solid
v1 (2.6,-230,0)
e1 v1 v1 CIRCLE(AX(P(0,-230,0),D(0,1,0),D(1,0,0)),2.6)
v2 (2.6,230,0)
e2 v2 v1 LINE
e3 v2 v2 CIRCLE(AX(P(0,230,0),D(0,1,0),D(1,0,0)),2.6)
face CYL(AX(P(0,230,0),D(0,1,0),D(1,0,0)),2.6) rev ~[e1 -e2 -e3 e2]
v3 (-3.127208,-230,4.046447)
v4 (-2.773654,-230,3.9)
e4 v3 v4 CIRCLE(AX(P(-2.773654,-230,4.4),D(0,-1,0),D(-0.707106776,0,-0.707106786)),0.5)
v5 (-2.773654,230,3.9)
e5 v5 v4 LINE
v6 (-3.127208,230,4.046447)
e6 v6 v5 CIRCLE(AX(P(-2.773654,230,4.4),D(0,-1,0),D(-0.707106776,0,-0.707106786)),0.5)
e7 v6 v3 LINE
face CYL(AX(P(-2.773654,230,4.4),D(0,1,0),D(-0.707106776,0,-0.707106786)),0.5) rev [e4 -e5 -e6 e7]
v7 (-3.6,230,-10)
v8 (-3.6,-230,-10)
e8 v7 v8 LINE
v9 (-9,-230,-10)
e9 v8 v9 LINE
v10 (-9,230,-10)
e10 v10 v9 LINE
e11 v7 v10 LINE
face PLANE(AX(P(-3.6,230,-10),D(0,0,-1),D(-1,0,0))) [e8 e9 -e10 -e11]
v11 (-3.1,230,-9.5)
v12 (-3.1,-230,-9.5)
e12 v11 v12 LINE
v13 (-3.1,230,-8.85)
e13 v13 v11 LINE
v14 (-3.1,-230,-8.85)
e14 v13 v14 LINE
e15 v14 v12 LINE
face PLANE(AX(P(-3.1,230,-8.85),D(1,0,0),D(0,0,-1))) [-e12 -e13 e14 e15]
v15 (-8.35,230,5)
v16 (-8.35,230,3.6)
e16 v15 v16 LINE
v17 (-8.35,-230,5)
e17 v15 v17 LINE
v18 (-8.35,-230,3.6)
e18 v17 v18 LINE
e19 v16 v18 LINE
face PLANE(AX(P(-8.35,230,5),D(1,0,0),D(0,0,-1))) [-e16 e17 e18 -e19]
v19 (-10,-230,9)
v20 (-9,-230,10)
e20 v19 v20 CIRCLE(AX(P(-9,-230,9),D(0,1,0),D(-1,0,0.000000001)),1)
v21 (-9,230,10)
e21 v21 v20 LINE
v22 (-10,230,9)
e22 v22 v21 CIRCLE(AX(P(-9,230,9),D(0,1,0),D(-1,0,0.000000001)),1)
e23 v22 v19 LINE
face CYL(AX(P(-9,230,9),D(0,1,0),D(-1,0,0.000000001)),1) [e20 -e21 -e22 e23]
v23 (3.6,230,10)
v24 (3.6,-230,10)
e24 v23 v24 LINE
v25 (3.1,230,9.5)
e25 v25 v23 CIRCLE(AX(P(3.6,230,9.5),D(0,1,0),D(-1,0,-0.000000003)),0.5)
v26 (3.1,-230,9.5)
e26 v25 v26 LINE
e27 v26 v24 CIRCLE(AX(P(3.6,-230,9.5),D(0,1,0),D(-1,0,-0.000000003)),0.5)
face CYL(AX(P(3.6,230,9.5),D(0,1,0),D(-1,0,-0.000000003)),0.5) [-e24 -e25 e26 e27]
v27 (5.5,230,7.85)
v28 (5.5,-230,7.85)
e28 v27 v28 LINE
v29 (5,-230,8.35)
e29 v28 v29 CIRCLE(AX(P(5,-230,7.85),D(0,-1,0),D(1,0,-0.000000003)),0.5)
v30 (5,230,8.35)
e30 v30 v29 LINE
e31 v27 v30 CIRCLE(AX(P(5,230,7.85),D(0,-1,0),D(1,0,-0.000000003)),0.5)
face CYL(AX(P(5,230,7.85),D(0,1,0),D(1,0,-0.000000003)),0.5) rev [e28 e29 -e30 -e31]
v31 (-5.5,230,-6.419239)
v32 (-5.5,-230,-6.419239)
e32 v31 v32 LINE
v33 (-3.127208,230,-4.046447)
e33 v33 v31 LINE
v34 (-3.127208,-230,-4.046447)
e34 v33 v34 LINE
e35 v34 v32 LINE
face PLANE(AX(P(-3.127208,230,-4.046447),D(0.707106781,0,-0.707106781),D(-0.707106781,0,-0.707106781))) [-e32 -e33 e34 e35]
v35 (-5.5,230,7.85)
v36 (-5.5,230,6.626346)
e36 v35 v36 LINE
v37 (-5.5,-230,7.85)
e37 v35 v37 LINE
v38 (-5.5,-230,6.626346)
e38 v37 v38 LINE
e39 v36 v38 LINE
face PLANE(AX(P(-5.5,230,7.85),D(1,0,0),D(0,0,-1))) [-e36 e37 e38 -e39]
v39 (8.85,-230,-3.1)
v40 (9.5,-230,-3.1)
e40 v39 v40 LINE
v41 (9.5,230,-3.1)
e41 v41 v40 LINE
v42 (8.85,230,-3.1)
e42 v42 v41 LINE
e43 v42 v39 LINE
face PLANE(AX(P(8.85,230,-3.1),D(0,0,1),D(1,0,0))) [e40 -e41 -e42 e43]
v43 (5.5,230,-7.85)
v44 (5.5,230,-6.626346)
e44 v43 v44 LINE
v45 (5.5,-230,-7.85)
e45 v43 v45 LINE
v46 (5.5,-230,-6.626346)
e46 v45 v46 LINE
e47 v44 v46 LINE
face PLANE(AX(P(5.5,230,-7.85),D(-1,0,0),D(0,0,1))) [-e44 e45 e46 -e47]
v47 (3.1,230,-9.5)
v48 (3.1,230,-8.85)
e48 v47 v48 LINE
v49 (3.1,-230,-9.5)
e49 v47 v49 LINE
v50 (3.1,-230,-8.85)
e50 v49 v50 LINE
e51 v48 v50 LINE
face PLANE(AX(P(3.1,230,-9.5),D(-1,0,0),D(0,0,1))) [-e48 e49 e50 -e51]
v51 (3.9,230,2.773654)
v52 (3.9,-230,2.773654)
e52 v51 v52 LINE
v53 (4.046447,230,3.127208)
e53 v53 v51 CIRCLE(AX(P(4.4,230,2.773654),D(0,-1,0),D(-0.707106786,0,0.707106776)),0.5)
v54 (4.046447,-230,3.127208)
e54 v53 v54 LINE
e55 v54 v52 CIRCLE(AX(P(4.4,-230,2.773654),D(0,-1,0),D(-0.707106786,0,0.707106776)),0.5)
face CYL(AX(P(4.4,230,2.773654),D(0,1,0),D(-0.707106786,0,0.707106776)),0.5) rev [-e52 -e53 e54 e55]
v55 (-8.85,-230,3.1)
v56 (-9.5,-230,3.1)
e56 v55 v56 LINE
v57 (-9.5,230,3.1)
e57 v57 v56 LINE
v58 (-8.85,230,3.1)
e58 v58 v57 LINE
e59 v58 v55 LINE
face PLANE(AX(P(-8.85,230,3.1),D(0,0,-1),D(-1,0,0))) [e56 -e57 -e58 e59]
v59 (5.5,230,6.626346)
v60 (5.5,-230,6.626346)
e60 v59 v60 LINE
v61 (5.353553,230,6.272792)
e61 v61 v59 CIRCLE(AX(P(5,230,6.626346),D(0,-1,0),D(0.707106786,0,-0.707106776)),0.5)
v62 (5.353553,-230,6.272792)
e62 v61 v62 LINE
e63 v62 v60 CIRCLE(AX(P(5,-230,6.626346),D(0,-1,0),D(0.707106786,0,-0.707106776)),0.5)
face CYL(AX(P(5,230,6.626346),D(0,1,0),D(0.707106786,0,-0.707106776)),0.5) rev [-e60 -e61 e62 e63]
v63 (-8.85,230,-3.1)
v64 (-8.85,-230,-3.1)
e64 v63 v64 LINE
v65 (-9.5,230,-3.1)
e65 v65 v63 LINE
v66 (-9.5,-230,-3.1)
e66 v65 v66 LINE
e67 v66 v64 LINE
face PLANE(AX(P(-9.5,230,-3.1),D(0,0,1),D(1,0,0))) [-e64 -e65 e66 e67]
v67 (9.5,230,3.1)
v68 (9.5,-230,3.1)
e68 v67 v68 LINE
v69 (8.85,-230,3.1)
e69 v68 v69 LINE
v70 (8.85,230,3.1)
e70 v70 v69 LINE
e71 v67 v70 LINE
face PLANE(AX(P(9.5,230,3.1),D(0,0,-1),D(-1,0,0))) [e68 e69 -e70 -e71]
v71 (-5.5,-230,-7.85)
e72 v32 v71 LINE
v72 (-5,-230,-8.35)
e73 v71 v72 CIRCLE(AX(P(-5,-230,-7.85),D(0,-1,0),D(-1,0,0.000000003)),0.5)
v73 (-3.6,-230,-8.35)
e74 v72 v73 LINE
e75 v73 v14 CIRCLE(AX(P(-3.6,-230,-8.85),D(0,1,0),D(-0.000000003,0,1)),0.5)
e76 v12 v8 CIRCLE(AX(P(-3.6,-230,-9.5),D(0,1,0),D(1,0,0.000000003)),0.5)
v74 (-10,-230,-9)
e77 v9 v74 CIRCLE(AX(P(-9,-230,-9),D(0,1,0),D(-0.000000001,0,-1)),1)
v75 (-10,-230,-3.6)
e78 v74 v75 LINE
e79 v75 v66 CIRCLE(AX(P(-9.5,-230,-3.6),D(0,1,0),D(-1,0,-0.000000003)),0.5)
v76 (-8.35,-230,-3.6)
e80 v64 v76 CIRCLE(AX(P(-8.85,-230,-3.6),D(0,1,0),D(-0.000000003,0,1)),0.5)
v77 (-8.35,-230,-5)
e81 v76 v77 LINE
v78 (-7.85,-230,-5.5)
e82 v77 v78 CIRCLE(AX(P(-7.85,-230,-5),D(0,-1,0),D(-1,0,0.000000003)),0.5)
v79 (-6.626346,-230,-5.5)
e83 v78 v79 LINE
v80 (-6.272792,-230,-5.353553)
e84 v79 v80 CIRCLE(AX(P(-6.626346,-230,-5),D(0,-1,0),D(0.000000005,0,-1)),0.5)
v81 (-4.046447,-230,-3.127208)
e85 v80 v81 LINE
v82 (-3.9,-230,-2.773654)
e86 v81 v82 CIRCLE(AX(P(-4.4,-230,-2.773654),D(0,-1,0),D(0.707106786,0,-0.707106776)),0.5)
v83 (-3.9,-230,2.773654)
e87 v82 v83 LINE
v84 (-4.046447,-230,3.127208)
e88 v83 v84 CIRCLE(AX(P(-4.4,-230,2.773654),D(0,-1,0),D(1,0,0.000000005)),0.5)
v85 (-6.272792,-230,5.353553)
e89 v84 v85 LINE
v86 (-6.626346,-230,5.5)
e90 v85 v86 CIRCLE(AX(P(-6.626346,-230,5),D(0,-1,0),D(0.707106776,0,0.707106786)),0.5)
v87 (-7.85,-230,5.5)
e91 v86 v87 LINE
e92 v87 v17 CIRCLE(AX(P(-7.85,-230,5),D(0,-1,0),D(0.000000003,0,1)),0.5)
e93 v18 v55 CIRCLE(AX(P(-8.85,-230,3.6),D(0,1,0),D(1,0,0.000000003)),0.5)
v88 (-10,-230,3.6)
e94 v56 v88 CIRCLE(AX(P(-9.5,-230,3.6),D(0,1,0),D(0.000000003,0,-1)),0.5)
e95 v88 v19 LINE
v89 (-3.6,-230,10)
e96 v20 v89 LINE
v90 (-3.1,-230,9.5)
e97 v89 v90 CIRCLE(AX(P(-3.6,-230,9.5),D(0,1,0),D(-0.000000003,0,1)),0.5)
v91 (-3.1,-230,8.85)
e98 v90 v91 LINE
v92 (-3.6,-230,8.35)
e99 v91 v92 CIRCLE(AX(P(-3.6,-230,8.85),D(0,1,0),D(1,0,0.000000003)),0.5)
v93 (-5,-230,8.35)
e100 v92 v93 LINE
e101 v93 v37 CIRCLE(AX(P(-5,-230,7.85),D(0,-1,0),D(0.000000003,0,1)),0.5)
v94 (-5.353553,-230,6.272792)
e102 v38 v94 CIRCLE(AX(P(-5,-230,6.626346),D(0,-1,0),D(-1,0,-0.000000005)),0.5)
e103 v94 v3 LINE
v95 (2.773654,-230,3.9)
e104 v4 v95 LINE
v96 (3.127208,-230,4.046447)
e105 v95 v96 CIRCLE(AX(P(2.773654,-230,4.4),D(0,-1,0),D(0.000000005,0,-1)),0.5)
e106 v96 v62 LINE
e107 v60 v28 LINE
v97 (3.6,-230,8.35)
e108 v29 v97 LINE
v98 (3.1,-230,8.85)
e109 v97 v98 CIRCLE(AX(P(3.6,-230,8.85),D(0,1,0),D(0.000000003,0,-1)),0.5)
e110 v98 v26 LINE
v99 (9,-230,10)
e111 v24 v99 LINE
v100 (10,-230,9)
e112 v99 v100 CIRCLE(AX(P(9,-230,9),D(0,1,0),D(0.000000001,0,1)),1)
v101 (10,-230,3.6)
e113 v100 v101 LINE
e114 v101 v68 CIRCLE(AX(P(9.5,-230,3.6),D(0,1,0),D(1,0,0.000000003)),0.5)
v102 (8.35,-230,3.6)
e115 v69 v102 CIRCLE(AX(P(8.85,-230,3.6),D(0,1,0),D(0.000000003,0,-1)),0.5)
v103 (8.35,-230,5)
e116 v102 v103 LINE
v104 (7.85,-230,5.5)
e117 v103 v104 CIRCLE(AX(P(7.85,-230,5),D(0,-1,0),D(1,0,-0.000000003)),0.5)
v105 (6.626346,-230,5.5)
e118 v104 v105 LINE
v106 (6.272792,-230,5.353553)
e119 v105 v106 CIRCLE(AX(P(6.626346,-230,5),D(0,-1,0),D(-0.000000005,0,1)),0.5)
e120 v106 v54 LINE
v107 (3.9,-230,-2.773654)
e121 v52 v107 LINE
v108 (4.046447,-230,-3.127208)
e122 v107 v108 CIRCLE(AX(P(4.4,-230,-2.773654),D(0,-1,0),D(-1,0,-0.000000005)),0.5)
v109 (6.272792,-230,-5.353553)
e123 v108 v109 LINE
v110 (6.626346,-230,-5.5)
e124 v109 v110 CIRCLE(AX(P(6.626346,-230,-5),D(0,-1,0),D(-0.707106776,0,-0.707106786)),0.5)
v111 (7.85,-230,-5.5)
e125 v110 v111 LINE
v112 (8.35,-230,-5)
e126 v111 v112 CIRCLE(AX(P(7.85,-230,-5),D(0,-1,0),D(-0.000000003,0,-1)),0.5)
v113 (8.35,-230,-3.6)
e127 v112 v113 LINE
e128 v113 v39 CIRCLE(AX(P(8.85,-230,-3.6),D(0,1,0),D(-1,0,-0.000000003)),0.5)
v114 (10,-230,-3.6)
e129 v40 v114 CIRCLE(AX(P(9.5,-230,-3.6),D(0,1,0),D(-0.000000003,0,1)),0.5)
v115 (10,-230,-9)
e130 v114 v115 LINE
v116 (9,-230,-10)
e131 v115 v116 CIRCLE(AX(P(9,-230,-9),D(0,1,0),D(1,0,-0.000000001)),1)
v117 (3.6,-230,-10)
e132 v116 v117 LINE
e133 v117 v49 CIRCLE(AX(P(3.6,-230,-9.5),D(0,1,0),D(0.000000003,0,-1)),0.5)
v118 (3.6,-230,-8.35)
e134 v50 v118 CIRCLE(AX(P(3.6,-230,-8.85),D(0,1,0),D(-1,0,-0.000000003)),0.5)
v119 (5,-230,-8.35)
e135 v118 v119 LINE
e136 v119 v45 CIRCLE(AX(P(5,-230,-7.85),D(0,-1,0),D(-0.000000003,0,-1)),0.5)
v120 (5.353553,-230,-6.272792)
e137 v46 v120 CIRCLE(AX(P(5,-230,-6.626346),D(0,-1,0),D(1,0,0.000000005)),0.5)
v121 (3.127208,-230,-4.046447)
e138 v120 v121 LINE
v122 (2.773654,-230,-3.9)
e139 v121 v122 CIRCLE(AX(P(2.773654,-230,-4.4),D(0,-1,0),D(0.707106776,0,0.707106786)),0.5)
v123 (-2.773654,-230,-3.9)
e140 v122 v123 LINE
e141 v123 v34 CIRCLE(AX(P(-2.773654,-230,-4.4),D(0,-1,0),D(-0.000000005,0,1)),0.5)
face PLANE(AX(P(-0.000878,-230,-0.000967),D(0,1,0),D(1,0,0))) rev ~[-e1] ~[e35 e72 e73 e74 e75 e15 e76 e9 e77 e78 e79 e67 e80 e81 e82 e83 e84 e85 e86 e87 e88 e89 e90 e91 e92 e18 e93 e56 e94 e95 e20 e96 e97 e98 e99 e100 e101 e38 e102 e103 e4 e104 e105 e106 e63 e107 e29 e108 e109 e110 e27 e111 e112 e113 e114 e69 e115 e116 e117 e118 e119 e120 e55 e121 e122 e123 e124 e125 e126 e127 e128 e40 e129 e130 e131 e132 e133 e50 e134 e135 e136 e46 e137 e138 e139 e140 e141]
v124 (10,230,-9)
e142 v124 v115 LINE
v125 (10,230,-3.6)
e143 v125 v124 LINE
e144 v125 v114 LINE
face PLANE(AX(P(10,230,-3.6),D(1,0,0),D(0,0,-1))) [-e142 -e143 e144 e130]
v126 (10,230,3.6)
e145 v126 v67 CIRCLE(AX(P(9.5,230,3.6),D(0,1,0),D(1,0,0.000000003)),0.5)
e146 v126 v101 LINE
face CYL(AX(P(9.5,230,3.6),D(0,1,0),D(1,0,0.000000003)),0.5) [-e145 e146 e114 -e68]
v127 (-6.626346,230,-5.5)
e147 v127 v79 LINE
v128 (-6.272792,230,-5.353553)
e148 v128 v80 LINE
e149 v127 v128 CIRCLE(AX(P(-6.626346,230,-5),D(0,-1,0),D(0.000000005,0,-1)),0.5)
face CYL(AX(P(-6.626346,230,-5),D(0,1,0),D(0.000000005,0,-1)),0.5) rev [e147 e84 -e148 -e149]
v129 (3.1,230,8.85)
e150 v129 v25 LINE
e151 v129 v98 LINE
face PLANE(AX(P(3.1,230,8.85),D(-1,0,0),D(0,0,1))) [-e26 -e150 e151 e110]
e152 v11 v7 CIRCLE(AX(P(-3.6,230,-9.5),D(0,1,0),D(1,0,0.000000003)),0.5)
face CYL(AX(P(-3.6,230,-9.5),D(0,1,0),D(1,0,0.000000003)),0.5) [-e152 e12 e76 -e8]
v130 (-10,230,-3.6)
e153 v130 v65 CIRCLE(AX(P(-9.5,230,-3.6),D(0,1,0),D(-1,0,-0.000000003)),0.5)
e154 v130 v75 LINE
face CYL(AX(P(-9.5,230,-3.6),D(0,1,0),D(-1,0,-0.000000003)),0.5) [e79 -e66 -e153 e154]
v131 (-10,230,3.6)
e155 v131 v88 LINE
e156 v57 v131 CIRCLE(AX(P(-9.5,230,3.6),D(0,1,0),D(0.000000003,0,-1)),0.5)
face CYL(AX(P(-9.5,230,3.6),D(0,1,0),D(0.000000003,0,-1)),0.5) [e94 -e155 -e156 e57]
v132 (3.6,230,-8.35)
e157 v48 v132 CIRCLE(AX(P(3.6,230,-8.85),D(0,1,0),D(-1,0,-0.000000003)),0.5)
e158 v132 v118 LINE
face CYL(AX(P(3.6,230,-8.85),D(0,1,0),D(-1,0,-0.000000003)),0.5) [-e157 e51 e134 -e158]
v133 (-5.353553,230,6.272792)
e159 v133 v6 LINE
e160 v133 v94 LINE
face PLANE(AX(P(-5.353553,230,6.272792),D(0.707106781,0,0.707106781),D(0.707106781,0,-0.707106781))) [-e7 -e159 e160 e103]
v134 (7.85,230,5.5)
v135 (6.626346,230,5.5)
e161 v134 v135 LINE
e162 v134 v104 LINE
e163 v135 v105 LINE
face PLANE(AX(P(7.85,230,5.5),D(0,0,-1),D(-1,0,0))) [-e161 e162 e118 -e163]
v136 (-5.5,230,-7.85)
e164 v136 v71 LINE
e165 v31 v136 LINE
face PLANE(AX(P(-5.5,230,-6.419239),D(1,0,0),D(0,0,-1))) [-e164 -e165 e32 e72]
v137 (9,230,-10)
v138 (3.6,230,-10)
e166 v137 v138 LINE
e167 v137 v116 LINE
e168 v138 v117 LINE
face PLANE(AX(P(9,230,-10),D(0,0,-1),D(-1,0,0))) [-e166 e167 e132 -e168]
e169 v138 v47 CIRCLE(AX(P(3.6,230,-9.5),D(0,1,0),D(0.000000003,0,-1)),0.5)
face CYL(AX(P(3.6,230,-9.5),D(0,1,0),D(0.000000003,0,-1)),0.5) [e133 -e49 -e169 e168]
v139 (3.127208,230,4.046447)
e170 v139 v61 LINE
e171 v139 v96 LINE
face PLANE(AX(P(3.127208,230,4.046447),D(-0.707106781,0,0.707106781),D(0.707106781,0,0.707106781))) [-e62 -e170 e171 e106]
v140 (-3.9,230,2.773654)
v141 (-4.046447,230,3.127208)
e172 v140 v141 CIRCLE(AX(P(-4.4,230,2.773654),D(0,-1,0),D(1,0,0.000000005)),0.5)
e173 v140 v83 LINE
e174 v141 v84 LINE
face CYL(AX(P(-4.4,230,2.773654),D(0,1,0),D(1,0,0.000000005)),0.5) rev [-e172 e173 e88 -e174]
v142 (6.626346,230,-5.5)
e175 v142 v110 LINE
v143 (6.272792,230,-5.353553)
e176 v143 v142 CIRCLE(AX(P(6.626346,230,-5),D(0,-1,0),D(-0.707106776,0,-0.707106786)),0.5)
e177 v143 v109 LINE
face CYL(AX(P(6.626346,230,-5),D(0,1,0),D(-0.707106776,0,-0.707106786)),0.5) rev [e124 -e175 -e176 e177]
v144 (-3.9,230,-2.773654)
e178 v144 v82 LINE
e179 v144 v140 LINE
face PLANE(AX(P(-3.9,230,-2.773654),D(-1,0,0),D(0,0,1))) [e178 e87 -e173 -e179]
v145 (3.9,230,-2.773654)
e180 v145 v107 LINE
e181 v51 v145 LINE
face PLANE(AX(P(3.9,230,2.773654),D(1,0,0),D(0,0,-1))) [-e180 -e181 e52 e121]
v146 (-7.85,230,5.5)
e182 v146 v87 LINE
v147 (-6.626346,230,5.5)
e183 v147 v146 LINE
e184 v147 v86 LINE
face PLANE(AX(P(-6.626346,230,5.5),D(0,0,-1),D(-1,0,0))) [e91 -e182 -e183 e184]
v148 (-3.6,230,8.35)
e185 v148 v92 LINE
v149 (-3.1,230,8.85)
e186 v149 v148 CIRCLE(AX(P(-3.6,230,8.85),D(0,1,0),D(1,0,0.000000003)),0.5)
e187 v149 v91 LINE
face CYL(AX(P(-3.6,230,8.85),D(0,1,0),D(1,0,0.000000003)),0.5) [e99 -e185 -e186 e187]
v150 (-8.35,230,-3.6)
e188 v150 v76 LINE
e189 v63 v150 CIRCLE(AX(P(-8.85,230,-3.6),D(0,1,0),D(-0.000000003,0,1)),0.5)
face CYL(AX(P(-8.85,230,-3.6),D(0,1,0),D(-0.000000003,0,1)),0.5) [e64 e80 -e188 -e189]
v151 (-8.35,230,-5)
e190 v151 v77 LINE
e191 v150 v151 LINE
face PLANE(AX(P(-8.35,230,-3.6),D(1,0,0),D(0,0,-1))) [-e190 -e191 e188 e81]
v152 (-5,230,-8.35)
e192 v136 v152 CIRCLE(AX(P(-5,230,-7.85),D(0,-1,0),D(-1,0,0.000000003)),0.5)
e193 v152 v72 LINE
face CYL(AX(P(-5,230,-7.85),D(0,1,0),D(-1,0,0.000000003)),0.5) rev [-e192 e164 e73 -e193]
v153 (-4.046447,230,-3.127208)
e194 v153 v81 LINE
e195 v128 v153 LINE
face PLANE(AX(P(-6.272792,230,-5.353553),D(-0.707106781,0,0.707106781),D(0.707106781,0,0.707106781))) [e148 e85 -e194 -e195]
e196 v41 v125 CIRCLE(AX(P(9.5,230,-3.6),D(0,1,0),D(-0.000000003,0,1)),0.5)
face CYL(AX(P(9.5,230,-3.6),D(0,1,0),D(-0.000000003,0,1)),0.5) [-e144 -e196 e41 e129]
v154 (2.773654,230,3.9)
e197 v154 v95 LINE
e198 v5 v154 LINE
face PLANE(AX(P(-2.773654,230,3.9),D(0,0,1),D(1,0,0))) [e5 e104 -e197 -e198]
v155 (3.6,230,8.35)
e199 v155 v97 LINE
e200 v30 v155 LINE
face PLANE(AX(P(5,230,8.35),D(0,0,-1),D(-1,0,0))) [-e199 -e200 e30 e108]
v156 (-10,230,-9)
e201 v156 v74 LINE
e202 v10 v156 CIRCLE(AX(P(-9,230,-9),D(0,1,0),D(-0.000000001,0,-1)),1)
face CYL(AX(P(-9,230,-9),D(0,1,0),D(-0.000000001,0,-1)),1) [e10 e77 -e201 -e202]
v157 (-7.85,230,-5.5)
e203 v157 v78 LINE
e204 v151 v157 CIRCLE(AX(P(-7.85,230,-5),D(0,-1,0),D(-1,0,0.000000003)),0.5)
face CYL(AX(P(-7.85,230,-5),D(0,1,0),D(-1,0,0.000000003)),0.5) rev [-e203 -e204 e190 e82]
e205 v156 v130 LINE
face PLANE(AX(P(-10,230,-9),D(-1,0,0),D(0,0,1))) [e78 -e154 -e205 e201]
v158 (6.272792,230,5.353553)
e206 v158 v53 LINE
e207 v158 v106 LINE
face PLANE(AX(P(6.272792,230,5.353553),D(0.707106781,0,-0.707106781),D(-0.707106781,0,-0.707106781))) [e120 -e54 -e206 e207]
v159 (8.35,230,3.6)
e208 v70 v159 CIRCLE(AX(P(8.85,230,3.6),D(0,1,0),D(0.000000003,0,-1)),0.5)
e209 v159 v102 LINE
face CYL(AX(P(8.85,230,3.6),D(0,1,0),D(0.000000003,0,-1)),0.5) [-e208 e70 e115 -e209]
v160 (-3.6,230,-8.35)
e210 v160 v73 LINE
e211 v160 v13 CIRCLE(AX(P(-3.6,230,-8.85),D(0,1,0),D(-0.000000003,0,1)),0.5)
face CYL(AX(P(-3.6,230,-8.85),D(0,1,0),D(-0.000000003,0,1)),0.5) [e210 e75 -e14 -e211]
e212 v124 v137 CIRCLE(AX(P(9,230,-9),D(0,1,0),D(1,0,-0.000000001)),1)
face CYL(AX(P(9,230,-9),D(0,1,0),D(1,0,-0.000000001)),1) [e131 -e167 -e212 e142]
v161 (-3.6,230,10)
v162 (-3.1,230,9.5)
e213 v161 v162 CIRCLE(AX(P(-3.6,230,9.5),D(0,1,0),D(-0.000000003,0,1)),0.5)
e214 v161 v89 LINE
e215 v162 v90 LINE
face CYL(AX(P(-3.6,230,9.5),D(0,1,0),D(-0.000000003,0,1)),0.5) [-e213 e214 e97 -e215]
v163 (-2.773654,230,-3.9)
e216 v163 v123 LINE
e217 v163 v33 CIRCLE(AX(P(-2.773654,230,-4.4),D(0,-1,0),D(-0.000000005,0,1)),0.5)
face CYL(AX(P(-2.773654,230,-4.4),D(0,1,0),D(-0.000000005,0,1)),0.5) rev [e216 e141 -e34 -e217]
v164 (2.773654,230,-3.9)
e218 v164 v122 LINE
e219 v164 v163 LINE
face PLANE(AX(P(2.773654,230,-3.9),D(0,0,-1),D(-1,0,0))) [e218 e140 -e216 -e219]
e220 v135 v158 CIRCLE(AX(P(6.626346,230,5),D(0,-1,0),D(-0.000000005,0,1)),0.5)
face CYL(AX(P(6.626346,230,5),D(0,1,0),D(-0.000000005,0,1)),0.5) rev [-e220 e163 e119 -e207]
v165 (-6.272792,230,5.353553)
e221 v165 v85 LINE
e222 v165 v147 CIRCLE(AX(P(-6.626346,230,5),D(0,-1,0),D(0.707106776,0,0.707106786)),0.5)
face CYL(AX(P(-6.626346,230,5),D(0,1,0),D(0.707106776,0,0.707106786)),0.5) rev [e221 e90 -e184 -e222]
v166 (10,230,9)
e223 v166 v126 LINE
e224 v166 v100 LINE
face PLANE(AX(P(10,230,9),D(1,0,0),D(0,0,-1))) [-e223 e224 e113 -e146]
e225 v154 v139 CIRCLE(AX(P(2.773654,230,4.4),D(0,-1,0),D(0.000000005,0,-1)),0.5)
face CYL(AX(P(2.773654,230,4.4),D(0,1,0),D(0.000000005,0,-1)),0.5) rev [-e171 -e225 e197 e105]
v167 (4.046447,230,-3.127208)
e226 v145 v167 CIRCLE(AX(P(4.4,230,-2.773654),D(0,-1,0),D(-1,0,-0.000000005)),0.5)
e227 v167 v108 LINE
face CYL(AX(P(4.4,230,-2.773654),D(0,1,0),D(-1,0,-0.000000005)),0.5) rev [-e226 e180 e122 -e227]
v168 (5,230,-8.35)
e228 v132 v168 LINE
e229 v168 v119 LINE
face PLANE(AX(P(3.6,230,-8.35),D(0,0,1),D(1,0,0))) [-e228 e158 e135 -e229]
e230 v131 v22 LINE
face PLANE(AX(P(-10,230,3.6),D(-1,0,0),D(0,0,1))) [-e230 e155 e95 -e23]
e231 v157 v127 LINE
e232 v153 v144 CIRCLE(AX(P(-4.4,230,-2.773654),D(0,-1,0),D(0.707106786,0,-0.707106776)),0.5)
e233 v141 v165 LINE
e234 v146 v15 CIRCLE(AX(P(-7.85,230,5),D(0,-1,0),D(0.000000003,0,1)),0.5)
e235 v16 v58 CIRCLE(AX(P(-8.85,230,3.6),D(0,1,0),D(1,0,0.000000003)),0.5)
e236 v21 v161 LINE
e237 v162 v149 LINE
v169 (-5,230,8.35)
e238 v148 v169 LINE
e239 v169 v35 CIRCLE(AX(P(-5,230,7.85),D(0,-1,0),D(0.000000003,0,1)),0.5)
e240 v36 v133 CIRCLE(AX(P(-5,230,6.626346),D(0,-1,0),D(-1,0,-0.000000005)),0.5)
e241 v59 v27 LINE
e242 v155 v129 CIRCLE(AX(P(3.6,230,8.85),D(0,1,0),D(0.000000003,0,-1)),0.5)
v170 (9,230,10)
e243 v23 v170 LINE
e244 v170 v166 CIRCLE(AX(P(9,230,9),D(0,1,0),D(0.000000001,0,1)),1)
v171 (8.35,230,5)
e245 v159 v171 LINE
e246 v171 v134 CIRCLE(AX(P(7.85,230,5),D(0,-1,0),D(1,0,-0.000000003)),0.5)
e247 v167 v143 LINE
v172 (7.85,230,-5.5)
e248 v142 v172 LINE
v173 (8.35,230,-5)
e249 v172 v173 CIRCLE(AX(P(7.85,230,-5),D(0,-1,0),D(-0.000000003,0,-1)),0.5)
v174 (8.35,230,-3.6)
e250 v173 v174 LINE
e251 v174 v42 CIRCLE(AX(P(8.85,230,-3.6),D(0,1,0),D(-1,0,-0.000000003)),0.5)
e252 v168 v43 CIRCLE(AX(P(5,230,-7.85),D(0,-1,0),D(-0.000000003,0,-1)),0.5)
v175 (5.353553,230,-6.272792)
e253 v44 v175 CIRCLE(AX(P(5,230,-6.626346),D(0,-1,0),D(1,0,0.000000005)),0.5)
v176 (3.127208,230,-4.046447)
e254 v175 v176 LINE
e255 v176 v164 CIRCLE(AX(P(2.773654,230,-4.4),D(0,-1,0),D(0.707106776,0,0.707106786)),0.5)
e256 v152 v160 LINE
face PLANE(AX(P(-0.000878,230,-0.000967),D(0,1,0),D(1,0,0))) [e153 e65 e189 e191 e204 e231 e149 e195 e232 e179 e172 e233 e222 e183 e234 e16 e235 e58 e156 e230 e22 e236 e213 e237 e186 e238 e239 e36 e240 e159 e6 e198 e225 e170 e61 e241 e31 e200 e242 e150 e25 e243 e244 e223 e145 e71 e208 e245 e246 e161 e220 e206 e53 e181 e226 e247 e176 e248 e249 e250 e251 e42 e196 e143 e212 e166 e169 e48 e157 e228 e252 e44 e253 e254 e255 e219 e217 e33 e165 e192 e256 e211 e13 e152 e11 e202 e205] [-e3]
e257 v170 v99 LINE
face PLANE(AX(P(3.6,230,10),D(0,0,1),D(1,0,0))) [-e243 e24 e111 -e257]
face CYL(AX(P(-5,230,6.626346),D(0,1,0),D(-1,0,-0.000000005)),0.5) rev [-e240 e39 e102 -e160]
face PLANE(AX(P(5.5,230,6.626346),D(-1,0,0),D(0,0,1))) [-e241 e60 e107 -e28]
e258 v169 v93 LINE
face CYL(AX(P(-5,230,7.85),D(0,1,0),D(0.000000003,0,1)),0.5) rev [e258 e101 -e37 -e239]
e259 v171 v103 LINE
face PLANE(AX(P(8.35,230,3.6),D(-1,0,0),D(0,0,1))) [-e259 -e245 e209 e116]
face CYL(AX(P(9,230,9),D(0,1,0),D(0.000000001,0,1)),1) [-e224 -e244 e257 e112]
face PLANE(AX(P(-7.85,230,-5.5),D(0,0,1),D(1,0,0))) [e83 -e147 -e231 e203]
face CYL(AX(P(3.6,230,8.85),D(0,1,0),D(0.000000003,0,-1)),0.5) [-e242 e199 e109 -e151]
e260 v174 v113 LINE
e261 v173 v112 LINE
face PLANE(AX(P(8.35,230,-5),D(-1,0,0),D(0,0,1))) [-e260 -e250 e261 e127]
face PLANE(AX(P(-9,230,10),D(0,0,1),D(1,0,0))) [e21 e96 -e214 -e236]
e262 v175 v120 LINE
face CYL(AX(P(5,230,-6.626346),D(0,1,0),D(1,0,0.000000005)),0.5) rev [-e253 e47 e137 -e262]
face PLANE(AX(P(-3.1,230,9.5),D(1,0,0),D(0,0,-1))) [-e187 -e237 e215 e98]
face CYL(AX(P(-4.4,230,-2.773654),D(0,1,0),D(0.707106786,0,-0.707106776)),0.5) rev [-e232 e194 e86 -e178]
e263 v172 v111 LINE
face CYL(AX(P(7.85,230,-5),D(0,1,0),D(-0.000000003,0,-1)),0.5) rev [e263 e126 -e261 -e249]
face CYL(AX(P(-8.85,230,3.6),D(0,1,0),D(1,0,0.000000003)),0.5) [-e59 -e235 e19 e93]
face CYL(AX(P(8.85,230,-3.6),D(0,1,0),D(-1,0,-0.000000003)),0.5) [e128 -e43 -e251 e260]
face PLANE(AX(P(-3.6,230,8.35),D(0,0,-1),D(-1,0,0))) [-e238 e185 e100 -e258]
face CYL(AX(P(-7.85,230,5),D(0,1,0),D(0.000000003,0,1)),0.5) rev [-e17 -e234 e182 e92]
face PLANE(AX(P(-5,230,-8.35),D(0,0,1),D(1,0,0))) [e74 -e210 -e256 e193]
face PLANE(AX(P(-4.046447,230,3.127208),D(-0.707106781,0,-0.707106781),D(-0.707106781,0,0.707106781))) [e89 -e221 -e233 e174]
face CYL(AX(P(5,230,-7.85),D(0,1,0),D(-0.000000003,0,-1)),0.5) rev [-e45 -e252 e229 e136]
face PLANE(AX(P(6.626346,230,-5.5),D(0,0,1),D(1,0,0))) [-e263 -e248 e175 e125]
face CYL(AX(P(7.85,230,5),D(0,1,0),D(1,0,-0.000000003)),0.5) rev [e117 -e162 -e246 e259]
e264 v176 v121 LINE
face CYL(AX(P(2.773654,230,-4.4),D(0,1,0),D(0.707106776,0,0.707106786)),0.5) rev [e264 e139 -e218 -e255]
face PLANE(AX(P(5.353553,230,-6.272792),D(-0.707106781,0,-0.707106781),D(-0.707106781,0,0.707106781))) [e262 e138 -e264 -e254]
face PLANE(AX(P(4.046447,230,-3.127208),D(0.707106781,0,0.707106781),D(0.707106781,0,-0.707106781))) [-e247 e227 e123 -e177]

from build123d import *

# Parameters (mm, degrees)
SKETCH1_R           = 2.6
BOSS_EXTRUDE1_DEPTH = 460


with BuildPart() as part:
    # Sketch1 → Boss-Extrude1 (new body)
    with BuildSketch(Plane(origin=(0, 230, 0), x_dir=(1, 0, 0), z_dir=(0, 1, 0))):
        with BuildLine():
            Line((-3.1, 8.85), (-3.1, 9.5))
            ThreePointArc((-3.1, 9.5), (-3.246446609, 9.853553391), (-3.6, 10))
            Line((-3.6, 10), (-9, 10))
            ThreePointArc((-9, 10), (-9.707106781, 9.707106781), (-10, 9))
            Line((-10, 9), (-10, 3.6))
            ThreePointArc((-10, 3.6), (-9.853553391, 3.246446609), (-9.5, 3.1))
            Line((-9.5, 3.1), (-8.85, 3.1))
            ThreePointArc((-8.85, 3.1), (-8.496446609, 3.246446609), (-8.35, 3.6))
            Line((-8.35, 3.6), (-8.35, 5))
            ThreePointArc((-8.35, 5), (-8.203553391, 5.353553391), (-7.85, 5.5))
            Line((-7.85, 5.5), (-6.626345597, 5.5))
            ThreePointArc((-6.626345597, 5.5), (-6.435003881, 5.461939766), (-6.272792206, 5.353553391))
            Line((-6.272792206, 5.353553391), (-4.046446609, 3.127207794))
            ThreePointArc((-4.046446609, 3.127207794), (-3.938060234, 2.964996119), (-3.9, 2.773654403))
            Line((-3.9, 2.773654403), (-3.9, -2.773654403))
            ThreePointArc((-3.9, -2.773654403), (-3.938060234, -2.964996119), (-4.046446609, -3.127207794))
            Line((-4.046446609, -3.127207794), (-6.272792206, -5.353553391))
            ThreePointArc((-6.272792206, -5.353553391), (-6.435003881, -5.461939766), (-6.626345597, -5.5))
            Line((-6.626345597, -5.5), (-7.85, -5.5))
            ThreePointArc((-7.85, -5.5), (-8.203553391, -5.353553391), (-8.35, -5))
            Line((-8.35, -5), (-8.35, -3.6))
            ThreePointArc((-8.35, -3.6), (-8.496446609, -3.246446609), (-8.85, -3.1))
            Line((-8.85, -3.1), (-9.5, -3.1))
            ThreePointArc((-9.5, -3.1), (-9.853553391, -3.246446609), (-10, -3.6))
            Line((-10, -3.6), (-10, -9))
            ThreePointArc((-10, -9), (-9.707106781, -9.707106781), (-9, -10))
            Line((-9, -10), (-3.6, -10))
            ThreePointArc((-3.6, -10), (-3.246446609, -9.853553391), (-3.1, -9.5))
            Line((-3.1, -9.5), (-3.1, -8.85))
            ThreePointArc((-3.1, -8.85), (-3.246446609, -8.496446609), (-3.6, -8.35))
            Line((-3.6, -8.35), (-5, -8.35))
            ThreePointArc((-5, -8.35), (-5.353553391, -8.203553391), (-5.5, -7.85))
            Line((-5.5, -7.85), (-5.5, -6.626345597))
            ThreePointArc((-5.5, -6.626345597), (-5.461939766, -6.435003881), (-5.353553391, -6.272792206))
            Line((-5.353553391, -6.272792206), (-3.127207794, -4.046446609))
            ThreePointArc((-3.127207794, -4.046446609), (-2.964996119, -3.938060234), (-2.773654403, -3.9))
            Line((-2.773654403, -3.9), (2.773654403, -3.9))
            ThreePointArc((2.773654403, -3.9), (2.964996119, -3.938060234), (3.127207794, -4.046446609))
            Line((3.127207794, -4.046446609), (5.353553391, -6.272792206))
            ThreePointArc((5.353553391, -6.272792206), (5.461939766, -6.435003881), (5.5, -6.626345597))
            Line((5.5, -6.626345597), (5.5, -7.85))
            ThreePointArc((5.5, -7.85), (5.353553391, -8.203553391), (5, -8.35))
            Line((5, -8.35), (3.6, -8.35))
            ThreePointArc((3.6, -8.35), (3.246446609, -8.496446609), (3.1, -8.85))
            Line((3.1, -8.85), (3.1, -9.5))
            ThreePointArc((3.1, -9.5), (3.246446609, -9.853553391), (3.6, -10))
            Line((3.6, -10), (9, -10))
            ThreePointArc((9, -10), (9.707106781, -9.707106781), (10, -9))
            Line((10, -9), (10, -3.6))
            ThreePointArc((10, -3.6), (9.853553391, -3.246446609), (9.5, -3.1))
            Line((9.5, -3.1), (8.85, -3.1))
            ThreePointArc((8.85, -3.1), (8.496446609, -3.246446609), (8.35, -3.6))
            Line((8.35, -3.6), (8.35, -5))
            ThreePointArc((8.35, -5), (8.203553391, -5.353553391), (7.85, -5.5))
            Line((7.85, -5.5), (6.626345597, -5.5))
            ThreePointArc((6.626345597, -5.5), (6.435003881, -5.461939766), (6.272792206, -5.353553391))
            Line((6.272792206, -5.353553391), (4.046446609, -3.127207794))
            ThreePointArc((4.046446609, -3.127207794), (3.938060234, -2.964996119), (3.9, -2.773654403))
            Line((3.9, -2.773654403), (3.9, 2.773654403))
            ThreePointArc((3.9, 2.773654403), (3.938060234, 2.964996119), (4.046446609, 3.127207794))
            Line((4.046446609, 3.127207794), (6.272792206, 5.353553391))
            ThreePointArc((6.272792206, 5.353553391), (6.435003881, 5.461939766), (6.626345597, 5.5))
            Line((6.626345597, 5.5), (7.85, 5.5))
            ThreePointArc((7.85, 5.5), (8.203553391, 5.353553391), (8.35, 5))
            Line((8.35, 5), (8.35, 3.6))
            ThreePointArc((8.35, 3.6), (8.496446609, 3.246446609), (8.85, 3.1))
            Line((8.85, 3.1), (9.5, 3.1))
            ThreePointArc((9.5, 3.1), (9.853553391, 3.246446609), (10, 3.6))
            Line((10, 3.6), (10, 9))
            ThreePointArc((10, 9), (9.707106781, 9.707106781), (9, 10))
            Line((9, 10), (3.6, 10))
            ThreePointArc((3.6, 10), (3.246446609, 9.853553391), (3.1, 9.5))
            Line((3.1, 9.5), (3.1, 8.85))
            ThreePointArc((3.1, 8.85), (3.246446609, 8.496446609), (3.6, 8.35))
            Line((3.6, 8.35), (5, 8.35))
            ThreePointArc((5, 8.35), (5.353553391, 8.203553391), (5.5, 7.85))
            Line((5.5, 7.85), (5.5, 6.626345597))
            ThreePointArc((5.5, 6.626345597), (5.461939766, 6.435003881), (5.353553391, 6.272792206))
            Line((5.353553391, 6.272792206), (3.127207794, 4.046446609))
            ThreePointArc((3.127207794, 4.046446609), (2.964996119, 3.938060234), (2.773654403, 3.9))
            Line((2.773654403, 3.9), (-2.773654403, 3.9))
            ThreePointArc((-2.773654403, 3.9), (-2.964996119, 3.938060234), (-3.127207794, 4.046446609))
            Line((-3.127207794, 4.046446609), (-5.5, 6.419238816))
            Line((-5.5, 6.419238816), (-5.5, 7.85))
            ThreePointArc((-5.5, 7.85), (-5.353553391, 8.203553391), (-5, 8.35))
            Line((-5, 8.35), (-3.6, 8.35))
            ThreePointArc((-3.6, 8.35), (-3.246446609, 8.496446609), (-3.1, 8.85))
        make_face()
        Circle(SKETCH1_R, mode=Mode.SUBTRACT)
    extrude(amount=-BOSS_EXTRUDE1_DEPTH)


solid = part.part
